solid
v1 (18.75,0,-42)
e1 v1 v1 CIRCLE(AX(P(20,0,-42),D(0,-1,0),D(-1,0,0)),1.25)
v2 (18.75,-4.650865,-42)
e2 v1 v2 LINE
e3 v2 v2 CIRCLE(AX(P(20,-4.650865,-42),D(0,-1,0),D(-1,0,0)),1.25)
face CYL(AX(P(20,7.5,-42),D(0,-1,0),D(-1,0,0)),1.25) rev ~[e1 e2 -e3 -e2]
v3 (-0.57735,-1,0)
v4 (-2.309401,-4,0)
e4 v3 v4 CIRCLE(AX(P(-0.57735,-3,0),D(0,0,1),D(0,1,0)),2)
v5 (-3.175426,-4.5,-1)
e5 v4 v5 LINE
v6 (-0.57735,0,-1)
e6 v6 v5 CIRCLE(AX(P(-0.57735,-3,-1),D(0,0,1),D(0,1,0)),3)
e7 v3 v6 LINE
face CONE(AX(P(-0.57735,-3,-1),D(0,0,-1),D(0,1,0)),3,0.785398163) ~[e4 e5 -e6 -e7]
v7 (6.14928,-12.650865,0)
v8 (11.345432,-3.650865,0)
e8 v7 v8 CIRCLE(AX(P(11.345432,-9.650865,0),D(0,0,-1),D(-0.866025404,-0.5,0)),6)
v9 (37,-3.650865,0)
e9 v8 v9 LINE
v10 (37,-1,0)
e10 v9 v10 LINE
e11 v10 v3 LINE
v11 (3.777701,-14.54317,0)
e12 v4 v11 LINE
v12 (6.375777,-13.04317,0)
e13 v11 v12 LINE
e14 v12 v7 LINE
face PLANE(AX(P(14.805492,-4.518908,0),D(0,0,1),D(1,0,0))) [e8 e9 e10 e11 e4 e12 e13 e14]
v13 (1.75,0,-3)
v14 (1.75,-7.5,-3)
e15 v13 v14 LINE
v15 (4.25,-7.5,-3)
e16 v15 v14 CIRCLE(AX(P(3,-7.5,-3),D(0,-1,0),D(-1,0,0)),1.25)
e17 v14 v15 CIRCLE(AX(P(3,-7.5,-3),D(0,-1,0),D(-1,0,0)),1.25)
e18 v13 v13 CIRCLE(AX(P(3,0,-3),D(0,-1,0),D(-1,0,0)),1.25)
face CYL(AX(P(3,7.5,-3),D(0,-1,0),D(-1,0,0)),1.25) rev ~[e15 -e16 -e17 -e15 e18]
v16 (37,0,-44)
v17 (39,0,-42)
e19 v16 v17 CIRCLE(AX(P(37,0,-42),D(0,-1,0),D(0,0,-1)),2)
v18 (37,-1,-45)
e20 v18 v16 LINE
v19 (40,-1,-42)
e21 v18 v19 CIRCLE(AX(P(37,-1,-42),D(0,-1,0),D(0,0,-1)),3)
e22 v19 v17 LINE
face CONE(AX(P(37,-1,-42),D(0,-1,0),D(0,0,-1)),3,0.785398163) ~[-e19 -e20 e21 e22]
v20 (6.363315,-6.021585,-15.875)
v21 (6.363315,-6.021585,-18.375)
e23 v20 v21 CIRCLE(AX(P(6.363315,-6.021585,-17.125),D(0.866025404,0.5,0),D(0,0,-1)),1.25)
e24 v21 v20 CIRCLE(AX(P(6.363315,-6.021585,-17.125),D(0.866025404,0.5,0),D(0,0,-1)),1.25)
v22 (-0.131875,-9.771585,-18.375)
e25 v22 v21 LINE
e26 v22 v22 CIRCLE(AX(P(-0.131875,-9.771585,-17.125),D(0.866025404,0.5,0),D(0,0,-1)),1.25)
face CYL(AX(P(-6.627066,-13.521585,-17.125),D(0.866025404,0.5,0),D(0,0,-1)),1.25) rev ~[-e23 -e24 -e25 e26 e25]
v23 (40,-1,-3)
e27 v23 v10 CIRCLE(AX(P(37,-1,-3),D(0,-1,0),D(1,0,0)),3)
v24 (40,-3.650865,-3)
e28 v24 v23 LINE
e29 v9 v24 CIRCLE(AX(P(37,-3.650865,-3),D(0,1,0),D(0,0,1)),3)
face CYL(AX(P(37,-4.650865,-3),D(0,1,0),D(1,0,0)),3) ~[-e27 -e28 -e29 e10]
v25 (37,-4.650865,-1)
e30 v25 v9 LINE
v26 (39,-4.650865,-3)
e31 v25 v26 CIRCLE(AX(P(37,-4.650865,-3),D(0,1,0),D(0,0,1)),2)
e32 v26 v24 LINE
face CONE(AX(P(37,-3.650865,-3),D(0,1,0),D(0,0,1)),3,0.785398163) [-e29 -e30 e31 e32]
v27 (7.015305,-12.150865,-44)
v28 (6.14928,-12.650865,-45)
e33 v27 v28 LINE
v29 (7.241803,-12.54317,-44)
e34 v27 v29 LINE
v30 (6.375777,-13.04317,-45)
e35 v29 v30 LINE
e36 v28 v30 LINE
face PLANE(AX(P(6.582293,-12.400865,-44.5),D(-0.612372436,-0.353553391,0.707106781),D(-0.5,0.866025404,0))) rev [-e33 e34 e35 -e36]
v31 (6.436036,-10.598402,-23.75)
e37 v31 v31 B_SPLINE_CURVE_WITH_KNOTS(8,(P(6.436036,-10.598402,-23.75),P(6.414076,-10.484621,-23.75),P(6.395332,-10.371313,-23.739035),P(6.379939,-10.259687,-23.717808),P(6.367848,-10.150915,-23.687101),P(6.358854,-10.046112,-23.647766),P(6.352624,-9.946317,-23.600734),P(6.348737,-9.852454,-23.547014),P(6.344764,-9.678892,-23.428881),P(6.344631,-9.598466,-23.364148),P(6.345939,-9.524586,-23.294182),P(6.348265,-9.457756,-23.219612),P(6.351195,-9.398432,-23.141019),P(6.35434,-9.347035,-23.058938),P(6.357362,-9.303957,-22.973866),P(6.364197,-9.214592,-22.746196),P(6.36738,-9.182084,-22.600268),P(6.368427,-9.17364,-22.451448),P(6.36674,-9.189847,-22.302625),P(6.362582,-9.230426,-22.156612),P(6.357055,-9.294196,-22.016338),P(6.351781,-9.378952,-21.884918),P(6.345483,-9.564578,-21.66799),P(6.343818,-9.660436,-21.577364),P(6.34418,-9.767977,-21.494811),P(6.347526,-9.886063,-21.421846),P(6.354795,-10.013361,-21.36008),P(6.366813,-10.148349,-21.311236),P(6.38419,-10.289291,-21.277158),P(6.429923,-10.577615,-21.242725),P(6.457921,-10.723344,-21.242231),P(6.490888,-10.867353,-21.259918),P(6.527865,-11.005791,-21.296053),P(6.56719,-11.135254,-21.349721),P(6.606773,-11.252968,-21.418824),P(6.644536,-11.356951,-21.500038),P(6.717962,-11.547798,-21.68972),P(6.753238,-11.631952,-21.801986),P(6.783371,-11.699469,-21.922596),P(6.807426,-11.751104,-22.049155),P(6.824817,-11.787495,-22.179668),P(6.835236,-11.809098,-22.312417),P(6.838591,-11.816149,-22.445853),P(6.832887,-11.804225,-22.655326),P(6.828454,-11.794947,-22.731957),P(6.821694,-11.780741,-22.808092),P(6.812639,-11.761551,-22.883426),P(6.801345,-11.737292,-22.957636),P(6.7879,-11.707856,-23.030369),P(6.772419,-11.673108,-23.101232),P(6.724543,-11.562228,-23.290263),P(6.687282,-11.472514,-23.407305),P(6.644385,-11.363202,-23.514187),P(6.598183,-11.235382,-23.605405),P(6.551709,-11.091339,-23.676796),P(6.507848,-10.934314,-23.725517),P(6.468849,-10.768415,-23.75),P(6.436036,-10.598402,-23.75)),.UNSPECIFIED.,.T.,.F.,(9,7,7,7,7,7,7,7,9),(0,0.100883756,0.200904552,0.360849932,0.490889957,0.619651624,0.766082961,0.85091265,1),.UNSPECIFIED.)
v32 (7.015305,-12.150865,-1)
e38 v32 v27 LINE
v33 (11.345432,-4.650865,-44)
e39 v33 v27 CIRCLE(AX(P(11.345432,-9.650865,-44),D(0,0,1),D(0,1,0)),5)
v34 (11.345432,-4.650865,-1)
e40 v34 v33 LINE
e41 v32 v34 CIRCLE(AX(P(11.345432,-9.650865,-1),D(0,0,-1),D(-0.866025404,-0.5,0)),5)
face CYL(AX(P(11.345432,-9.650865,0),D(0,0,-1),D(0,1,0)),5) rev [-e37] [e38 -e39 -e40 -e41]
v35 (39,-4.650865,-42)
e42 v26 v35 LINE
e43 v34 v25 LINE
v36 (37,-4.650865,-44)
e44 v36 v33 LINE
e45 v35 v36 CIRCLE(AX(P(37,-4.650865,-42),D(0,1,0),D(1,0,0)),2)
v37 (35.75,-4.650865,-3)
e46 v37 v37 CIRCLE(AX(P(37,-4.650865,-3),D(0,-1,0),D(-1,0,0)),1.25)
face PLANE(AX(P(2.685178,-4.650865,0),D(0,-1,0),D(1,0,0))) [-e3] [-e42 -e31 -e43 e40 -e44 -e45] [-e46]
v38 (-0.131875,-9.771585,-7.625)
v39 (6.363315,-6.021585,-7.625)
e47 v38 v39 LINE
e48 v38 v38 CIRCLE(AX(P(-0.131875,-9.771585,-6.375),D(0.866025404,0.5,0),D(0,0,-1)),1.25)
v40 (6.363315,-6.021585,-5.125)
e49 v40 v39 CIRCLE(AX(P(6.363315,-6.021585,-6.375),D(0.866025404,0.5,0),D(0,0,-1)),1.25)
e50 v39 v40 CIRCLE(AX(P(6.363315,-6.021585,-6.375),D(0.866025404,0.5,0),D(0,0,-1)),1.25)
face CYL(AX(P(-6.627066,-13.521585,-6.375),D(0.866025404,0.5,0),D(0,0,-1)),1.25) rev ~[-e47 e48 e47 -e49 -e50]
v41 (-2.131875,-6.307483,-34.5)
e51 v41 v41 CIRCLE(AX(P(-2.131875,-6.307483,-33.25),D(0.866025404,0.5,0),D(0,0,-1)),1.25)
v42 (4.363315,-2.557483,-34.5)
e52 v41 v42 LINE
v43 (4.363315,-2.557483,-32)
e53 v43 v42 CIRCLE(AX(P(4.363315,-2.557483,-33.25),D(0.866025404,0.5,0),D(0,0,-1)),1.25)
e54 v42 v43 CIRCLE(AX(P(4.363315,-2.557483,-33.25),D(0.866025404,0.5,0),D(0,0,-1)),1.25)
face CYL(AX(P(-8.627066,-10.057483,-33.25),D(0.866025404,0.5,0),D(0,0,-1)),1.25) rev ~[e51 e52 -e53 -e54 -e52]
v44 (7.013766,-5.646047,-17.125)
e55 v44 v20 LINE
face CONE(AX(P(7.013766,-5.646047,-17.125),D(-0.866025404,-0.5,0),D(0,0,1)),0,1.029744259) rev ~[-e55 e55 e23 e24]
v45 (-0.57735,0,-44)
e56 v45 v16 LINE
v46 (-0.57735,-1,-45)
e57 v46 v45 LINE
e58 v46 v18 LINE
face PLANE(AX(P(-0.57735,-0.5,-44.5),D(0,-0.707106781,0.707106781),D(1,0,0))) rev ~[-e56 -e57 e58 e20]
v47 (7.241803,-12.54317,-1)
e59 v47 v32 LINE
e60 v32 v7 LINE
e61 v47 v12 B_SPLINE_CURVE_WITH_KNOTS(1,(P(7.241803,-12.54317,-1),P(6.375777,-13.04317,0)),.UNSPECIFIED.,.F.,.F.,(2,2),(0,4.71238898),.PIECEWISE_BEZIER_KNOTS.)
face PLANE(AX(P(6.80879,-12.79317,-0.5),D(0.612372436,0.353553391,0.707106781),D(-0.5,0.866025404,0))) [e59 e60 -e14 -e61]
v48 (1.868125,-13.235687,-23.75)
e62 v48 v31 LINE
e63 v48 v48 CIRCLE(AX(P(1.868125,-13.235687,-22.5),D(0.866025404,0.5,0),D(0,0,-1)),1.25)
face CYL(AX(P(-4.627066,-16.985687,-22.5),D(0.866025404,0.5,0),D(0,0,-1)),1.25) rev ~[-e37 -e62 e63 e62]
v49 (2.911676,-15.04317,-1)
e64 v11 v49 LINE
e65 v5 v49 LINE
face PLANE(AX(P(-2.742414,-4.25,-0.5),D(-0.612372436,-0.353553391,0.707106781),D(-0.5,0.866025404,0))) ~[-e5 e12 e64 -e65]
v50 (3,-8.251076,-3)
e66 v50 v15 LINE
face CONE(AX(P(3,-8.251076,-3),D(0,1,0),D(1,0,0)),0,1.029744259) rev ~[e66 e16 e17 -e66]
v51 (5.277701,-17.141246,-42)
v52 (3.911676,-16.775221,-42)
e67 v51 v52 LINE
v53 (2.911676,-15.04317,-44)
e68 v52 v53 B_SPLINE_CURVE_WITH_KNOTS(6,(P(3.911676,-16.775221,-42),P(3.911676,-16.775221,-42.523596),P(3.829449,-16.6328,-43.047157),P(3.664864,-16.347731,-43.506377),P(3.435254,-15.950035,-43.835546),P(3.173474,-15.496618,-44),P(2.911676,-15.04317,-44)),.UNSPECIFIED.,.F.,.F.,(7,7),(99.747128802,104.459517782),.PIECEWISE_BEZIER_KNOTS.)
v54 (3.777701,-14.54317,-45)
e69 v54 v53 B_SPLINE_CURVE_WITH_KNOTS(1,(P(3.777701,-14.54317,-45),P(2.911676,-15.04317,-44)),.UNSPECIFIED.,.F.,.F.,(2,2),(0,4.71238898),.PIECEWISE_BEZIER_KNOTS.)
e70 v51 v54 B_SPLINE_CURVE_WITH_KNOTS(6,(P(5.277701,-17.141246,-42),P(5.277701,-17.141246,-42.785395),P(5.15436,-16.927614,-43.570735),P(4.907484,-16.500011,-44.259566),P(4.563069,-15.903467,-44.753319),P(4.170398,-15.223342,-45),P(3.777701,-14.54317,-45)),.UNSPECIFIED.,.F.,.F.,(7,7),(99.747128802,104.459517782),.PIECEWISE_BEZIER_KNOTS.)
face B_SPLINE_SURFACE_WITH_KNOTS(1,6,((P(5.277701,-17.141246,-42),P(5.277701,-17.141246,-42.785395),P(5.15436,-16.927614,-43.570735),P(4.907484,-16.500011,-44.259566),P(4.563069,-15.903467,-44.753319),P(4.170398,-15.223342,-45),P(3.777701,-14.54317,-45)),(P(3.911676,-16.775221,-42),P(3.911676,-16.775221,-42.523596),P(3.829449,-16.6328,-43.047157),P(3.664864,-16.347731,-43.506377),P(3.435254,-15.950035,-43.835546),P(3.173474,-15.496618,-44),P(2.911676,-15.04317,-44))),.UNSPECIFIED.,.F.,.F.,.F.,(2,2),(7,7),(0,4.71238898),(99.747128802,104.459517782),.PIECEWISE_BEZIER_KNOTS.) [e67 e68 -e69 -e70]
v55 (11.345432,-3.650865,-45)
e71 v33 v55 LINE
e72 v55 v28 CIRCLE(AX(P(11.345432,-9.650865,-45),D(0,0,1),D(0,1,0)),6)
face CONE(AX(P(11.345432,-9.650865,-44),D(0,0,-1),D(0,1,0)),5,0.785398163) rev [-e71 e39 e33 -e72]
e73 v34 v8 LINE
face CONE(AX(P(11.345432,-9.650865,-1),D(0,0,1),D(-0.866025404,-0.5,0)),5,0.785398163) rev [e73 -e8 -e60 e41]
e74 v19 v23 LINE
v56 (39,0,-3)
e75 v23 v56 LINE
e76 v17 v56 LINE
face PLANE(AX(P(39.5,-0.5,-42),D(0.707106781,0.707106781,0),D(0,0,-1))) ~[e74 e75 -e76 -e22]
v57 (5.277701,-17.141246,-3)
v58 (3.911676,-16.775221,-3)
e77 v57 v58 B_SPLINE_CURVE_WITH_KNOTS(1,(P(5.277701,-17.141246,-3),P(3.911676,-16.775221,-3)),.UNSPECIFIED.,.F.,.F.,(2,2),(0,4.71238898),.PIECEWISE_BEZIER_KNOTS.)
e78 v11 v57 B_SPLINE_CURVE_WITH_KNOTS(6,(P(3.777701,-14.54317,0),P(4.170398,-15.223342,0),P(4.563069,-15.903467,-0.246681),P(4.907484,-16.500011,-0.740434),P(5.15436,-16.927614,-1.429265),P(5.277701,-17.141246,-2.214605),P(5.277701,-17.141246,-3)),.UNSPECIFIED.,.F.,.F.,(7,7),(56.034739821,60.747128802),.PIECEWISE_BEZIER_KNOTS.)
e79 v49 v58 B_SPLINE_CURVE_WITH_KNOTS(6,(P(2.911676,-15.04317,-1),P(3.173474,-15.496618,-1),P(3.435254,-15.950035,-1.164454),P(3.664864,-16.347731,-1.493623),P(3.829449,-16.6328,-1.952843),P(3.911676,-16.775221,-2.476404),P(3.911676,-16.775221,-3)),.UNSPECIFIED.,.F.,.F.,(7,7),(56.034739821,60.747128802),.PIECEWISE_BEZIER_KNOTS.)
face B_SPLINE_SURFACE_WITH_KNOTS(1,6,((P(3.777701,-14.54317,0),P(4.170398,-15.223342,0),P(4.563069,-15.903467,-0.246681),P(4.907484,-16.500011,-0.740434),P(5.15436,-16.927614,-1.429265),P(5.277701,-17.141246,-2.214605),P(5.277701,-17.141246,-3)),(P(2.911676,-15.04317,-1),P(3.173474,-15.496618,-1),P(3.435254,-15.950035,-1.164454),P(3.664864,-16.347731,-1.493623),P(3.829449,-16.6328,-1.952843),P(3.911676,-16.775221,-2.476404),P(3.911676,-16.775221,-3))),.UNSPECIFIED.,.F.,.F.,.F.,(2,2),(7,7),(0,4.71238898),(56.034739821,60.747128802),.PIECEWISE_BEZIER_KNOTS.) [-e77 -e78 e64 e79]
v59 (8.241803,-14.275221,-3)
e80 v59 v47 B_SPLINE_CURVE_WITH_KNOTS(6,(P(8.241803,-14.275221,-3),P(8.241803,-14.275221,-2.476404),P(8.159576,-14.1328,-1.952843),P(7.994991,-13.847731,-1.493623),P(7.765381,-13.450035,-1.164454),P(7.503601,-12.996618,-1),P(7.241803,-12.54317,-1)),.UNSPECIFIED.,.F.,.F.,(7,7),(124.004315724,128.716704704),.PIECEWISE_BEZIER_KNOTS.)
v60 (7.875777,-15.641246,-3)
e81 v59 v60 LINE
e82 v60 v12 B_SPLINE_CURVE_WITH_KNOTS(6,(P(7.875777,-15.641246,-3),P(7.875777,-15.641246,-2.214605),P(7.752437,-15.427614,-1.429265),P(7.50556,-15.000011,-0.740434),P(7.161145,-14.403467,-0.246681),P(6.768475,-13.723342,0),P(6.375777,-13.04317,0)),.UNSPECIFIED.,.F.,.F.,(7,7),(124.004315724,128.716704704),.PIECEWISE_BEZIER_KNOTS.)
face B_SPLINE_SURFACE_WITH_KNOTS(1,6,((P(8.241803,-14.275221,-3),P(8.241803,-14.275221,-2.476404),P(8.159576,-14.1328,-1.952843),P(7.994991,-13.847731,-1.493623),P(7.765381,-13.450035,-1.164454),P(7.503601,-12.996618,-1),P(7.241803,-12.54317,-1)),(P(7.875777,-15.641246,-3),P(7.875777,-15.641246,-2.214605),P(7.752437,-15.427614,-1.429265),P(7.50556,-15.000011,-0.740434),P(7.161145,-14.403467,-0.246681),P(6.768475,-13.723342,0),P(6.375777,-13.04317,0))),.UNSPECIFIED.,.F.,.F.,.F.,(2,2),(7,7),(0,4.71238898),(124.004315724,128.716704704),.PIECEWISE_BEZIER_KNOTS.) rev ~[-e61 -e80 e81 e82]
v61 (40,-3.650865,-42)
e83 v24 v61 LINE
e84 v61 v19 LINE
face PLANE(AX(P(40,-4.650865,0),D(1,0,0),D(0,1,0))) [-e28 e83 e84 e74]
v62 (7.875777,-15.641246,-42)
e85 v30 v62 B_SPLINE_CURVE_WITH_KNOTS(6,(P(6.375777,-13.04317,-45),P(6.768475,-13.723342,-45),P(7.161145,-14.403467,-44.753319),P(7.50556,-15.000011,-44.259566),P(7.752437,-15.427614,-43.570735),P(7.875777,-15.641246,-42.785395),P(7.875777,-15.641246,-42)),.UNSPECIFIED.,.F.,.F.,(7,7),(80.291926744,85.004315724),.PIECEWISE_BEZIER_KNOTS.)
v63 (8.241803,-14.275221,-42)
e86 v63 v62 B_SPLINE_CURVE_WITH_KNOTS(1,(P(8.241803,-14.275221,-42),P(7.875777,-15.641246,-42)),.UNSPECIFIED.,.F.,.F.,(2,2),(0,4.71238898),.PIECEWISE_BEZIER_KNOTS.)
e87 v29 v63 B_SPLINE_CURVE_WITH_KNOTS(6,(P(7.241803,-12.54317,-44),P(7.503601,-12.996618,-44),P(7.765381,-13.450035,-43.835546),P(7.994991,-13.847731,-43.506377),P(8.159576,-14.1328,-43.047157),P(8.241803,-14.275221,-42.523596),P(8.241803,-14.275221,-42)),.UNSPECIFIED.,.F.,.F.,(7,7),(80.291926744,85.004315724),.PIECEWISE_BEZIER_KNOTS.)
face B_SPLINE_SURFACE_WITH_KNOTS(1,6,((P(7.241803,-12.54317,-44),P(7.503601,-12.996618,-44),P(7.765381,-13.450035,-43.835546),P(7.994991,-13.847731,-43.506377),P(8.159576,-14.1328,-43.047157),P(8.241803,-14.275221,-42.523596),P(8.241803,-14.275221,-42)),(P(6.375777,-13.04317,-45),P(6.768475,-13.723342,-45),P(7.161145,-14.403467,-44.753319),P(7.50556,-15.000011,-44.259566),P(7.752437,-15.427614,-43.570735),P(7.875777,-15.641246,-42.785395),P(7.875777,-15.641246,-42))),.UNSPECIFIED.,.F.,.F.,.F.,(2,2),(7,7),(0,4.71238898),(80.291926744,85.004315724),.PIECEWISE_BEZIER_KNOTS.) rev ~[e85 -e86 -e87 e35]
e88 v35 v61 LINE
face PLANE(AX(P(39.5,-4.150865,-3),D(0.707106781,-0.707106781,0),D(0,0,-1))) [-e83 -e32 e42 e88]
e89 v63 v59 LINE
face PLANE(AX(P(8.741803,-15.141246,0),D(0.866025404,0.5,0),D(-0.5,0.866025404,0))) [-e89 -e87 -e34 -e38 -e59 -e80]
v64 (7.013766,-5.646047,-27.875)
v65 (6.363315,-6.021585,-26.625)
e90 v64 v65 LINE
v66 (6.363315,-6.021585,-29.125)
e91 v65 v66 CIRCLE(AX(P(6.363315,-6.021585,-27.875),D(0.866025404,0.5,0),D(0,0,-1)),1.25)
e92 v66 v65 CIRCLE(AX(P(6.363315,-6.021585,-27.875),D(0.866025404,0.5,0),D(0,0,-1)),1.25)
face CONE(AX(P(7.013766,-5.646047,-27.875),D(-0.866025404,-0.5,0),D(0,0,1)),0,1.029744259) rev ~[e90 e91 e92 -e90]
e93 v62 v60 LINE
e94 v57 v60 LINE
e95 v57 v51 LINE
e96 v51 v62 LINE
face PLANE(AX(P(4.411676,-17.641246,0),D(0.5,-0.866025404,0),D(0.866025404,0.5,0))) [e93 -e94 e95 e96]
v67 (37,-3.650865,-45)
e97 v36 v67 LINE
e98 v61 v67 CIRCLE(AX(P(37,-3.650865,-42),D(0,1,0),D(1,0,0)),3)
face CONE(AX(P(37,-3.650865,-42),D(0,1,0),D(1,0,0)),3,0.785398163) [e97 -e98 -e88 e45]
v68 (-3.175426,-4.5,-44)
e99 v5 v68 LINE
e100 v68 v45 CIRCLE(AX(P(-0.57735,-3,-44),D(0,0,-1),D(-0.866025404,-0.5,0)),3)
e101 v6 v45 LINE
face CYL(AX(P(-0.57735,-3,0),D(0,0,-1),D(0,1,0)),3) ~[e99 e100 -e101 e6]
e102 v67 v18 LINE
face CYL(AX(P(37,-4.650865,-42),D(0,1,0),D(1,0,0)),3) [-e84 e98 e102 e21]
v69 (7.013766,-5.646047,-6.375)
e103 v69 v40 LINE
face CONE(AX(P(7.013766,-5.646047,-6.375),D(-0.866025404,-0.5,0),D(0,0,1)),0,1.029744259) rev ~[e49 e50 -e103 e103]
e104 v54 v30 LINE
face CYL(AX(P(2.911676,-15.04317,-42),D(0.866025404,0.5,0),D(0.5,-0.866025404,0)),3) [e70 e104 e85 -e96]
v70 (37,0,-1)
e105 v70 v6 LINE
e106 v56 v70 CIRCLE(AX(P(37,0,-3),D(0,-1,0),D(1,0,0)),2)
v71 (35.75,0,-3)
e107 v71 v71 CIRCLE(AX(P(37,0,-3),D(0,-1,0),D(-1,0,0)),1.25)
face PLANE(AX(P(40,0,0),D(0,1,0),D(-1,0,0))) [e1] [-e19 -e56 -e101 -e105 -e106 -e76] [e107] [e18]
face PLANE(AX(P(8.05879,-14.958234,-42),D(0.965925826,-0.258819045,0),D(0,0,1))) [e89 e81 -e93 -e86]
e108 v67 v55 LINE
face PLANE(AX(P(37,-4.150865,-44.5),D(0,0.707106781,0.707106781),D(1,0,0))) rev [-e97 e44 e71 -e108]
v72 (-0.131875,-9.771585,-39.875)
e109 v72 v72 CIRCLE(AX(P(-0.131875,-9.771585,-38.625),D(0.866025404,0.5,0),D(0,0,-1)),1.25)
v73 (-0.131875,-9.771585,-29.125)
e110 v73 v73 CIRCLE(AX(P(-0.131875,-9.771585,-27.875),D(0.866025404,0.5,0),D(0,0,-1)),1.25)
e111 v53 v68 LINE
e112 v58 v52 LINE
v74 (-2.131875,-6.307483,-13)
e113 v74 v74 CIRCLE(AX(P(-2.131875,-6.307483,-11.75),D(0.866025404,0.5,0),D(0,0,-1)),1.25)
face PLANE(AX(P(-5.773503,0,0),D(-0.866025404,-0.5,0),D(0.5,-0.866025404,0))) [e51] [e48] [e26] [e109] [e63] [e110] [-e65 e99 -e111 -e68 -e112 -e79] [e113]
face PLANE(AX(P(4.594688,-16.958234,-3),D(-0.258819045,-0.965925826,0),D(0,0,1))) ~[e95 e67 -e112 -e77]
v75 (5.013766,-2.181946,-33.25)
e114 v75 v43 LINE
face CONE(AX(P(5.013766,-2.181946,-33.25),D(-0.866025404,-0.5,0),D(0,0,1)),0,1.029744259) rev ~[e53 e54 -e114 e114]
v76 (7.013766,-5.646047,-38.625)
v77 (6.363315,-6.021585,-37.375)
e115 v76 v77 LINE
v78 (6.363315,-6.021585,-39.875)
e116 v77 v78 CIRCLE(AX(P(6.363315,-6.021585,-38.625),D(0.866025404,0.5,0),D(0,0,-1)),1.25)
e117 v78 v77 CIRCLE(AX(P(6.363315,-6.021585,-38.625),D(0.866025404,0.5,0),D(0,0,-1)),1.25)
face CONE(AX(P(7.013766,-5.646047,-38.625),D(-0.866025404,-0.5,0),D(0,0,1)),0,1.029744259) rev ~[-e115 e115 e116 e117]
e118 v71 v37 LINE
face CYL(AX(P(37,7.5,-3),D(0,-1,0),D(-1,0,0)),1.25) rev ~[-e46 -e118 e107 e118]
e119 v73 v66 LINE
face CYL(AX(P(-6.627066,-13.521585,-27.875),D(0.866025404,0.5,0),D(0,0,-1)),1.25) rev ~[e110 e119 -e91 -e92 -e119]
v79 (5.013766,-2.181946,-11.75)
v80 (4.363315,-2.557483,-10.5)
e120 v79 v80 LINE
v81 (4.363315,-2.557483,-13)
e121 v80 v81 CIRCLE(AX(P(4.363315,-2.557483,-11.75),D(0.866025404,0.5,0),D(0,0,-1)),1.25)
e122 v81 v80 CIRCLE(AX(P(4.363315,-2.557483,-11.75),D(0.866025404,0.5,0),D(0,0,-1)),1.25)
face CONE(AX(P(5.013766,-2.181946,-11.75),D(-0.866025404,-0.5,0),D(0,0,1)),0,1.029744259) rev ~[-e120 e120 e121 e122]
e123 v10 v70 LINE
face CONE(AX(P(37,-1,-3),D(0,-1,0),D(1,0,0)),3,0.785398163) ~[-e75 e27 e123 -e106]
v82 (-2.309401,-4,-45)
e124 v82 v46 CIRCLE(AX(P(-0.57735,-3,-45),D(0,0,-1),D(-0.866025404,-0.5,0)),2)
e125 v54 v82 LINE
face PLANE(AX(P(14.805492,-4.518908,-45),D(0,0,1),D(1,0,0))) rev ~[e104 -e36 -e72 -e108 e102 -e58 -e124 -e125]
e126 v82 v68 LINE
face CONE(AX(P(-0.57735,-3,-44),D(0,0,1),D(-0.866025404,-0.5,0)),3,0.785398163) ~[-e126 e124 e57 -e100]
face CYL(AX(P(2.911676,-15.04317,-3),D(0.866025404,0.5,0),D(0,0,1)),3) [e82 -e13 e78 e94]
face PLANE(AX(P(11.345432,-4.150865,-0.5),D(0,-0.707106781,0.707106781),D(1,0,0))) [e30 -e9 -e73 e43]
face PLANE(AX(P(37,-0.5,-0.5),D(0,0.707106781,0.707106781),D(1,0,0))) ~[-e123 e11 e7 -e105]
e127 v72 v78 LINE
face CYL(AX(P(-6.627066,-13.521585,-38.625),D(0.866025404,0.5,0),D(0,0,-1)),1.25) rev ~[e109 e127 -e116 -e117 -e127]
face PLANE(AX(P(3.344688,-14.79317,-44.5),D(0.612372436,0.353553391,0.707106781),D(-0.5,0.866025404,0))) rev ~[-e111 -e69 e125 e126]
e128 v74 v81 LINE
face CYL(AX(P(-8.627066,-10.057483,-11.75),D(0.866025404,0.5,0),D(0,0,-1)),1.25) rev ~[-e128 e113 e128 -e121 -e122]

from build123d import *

# Parameters (mm, degrees)
EXTRUDE_1_DEPTH        = 45
FILLET_1_R             = 3
FILLET_2_R             = 5
FILLET_3_R             = 3
FILLET_4_R             = 3
CHAMFER_1_SIZE         = 1
HOLE_WIZARD_M3_1_D     = 2.5
HOLE_WIZARD_M3_1_DEPTH = 7.5
HOLE_WIZARD_M3_1_TIP   = 0.751075774
CHAMFER_2_SIZE         = 1
HOLE_WIZARD_M3_2_D     = 2.5
HOLE_WIZARD_M3_2_DEPTH = 7.5
HOLE_WIZARD_M3_2_TIP   = 0.751075774


with BuildPart() as part:
    # 草图1 → 凸台-拉伸1 (new body)
    with BuildSketch(Plane.XY):
        Polygon((40, 0), (-5.773502692, 0), (4.411675645, -17.641246358), (8.741802661, -15.141246359), (2.685178332, -4.650865298), (40, -4.650865298), align=None)
    extrude(amount=-EXTRUDE_1_DEPTH)

    # 圆角1
    fillet_1_edges = [part.edges().sort_by_distance(p)[0] for p in [
        (40, -2.325432649, -45),
        (40, -2.325432649, 0),
    ]]
    fillet(fillet_1_edges, radius=FILLET_1_R)

    # 圆角2
    fillet_2_edges = [part.edges().sort_by_distance(p)[0] for p in [
        (2.685178332, -4.650865298, -22.5),
    ]]
    fillet(fillet_2_edges, radius=FILLET_2_R)

    # 圆角3
    fillet_3_edges = [part.edges().sort_by_distance(p)[0] for p in [
        (-5.773502692, 0, -22.5),
    ]]
    fillet(fillet_3_edges, radius=FILLET_3_R)

    # 圆角4
    fillet_4_edges = [part.edges().sort_by_distance(p)[0] for p in [
        (6.576739153, -16.391246359, -45),
        (6.576739153, -16.391246359, 0),
    ]]
    fillet(fillet_4_edges, radius=FILLET_4_R)

    # 倒角1
    chamfer_1_edges = [part.edges().sort_by_distance(p)[0] for p in [
        (40, -4.650865298, -22.5),
        (24.172716185, -4.650865298, -45),
        (39.121320344, -4.650865298, -44.121320344),
        (39.121320344, -4.650865298, -0.878679656),
        (7.128554006, -12.347017723, -45),
        (24.172716185, -4.650865298, 0),
        (7.01530535, -7.150865298, 0),
        (7.01530535, -7.150865298, -45),
        (8.741802661, -15.141246359, -22.5),
        (7.128554006, -12.347017723, 0),
        (8.302462833, -14.380287455, -0.878679656),
        (8.302462833, -14.380287455, -44.121320344),
    ]]
    chamfer(chamfer_1_edges, length=CHAMFER_1_SIZE)

    # M3 螺纹孔1
    with Locations(Plane(origin=(0, 0, 0), x_dir=(1, 0, 0), z_dir=(0, 1, 0))):
        with Locations((20, 42), (3, 3), (37, 3)):
            Hole(HOLE_WIZARD_M3_1_D / 2, depth=HOLE_WIZARD_M3_1_DEPTH)
            with Locations((0, 0, -(HOLE_WIZARD_M3_1_DEPTH + HOLE_WIZARD_M3_1_TIP / 2))):  # 118° drill point
                Cone(0, HOLE_WIZARD_M3_1_D / 2, HOLE_WIZARD_M3_1_TIP, mode=Mode.SUBTRACT)

    # 倒角2
    chamfer_2_edges = [part.edges().sort_by_distance(p)[0] for p in [
        (18.211324866, 0, 0),
        (40, 0, -22.5),
        (39.121320344, 0, -44.121320344),
        (39.121320344, 0, -0.878679656),
        (18.211324866, 0, -45),
        (-0.131875417, -9.771585074, 0),
        (-3.17542648, -1.5, 0),
        (-3.17542648, -1.5, -45),
        (-0.131875417, -9.771585074, -45),
        (4.411675645, -17.641246358, -22.5),
        (3.972335817, -16.880287454, -0.878679656),
        (3.972335817, -16.880287454, -44.121320344),
    ]]
    chamfer(chamfer_2_edges, length=CHAMFER_2_SIZE)

    # M3 螺纹孔2
    with Locations(Plane(origin=(-4.330127018, -2.5, 0), x_dir=(0, 0, 1), z_dir=(-0.866025404, -0.5, 0))):
        with Locations((-38.625, -8.3965032), (-33.25, -4.3965032), (-27.875, -8.3965032), (-22.5, -12.3965032), (-17.125, -8.3965032), (-11.75, -4.3965032), (-6.375, -8.3965032)):
            Hole(HOLE_WIZARD_M3_2_D / 2, depth=HOLE_WIZARD_M3_2_DEPTH)
            with Locations((0, 0, -(HOLE_WIZARD_M3_2_DEPTH + HOLE_WIZARD_M3_2_TIP / 2))):  # 118° drill point
                Cone(0, HOLE_WIZARD_M3_2_D / 2, HOLE_WIZARD_M3_2_TIP, mode=Mode.SUBTRACT)


solid = part.part
